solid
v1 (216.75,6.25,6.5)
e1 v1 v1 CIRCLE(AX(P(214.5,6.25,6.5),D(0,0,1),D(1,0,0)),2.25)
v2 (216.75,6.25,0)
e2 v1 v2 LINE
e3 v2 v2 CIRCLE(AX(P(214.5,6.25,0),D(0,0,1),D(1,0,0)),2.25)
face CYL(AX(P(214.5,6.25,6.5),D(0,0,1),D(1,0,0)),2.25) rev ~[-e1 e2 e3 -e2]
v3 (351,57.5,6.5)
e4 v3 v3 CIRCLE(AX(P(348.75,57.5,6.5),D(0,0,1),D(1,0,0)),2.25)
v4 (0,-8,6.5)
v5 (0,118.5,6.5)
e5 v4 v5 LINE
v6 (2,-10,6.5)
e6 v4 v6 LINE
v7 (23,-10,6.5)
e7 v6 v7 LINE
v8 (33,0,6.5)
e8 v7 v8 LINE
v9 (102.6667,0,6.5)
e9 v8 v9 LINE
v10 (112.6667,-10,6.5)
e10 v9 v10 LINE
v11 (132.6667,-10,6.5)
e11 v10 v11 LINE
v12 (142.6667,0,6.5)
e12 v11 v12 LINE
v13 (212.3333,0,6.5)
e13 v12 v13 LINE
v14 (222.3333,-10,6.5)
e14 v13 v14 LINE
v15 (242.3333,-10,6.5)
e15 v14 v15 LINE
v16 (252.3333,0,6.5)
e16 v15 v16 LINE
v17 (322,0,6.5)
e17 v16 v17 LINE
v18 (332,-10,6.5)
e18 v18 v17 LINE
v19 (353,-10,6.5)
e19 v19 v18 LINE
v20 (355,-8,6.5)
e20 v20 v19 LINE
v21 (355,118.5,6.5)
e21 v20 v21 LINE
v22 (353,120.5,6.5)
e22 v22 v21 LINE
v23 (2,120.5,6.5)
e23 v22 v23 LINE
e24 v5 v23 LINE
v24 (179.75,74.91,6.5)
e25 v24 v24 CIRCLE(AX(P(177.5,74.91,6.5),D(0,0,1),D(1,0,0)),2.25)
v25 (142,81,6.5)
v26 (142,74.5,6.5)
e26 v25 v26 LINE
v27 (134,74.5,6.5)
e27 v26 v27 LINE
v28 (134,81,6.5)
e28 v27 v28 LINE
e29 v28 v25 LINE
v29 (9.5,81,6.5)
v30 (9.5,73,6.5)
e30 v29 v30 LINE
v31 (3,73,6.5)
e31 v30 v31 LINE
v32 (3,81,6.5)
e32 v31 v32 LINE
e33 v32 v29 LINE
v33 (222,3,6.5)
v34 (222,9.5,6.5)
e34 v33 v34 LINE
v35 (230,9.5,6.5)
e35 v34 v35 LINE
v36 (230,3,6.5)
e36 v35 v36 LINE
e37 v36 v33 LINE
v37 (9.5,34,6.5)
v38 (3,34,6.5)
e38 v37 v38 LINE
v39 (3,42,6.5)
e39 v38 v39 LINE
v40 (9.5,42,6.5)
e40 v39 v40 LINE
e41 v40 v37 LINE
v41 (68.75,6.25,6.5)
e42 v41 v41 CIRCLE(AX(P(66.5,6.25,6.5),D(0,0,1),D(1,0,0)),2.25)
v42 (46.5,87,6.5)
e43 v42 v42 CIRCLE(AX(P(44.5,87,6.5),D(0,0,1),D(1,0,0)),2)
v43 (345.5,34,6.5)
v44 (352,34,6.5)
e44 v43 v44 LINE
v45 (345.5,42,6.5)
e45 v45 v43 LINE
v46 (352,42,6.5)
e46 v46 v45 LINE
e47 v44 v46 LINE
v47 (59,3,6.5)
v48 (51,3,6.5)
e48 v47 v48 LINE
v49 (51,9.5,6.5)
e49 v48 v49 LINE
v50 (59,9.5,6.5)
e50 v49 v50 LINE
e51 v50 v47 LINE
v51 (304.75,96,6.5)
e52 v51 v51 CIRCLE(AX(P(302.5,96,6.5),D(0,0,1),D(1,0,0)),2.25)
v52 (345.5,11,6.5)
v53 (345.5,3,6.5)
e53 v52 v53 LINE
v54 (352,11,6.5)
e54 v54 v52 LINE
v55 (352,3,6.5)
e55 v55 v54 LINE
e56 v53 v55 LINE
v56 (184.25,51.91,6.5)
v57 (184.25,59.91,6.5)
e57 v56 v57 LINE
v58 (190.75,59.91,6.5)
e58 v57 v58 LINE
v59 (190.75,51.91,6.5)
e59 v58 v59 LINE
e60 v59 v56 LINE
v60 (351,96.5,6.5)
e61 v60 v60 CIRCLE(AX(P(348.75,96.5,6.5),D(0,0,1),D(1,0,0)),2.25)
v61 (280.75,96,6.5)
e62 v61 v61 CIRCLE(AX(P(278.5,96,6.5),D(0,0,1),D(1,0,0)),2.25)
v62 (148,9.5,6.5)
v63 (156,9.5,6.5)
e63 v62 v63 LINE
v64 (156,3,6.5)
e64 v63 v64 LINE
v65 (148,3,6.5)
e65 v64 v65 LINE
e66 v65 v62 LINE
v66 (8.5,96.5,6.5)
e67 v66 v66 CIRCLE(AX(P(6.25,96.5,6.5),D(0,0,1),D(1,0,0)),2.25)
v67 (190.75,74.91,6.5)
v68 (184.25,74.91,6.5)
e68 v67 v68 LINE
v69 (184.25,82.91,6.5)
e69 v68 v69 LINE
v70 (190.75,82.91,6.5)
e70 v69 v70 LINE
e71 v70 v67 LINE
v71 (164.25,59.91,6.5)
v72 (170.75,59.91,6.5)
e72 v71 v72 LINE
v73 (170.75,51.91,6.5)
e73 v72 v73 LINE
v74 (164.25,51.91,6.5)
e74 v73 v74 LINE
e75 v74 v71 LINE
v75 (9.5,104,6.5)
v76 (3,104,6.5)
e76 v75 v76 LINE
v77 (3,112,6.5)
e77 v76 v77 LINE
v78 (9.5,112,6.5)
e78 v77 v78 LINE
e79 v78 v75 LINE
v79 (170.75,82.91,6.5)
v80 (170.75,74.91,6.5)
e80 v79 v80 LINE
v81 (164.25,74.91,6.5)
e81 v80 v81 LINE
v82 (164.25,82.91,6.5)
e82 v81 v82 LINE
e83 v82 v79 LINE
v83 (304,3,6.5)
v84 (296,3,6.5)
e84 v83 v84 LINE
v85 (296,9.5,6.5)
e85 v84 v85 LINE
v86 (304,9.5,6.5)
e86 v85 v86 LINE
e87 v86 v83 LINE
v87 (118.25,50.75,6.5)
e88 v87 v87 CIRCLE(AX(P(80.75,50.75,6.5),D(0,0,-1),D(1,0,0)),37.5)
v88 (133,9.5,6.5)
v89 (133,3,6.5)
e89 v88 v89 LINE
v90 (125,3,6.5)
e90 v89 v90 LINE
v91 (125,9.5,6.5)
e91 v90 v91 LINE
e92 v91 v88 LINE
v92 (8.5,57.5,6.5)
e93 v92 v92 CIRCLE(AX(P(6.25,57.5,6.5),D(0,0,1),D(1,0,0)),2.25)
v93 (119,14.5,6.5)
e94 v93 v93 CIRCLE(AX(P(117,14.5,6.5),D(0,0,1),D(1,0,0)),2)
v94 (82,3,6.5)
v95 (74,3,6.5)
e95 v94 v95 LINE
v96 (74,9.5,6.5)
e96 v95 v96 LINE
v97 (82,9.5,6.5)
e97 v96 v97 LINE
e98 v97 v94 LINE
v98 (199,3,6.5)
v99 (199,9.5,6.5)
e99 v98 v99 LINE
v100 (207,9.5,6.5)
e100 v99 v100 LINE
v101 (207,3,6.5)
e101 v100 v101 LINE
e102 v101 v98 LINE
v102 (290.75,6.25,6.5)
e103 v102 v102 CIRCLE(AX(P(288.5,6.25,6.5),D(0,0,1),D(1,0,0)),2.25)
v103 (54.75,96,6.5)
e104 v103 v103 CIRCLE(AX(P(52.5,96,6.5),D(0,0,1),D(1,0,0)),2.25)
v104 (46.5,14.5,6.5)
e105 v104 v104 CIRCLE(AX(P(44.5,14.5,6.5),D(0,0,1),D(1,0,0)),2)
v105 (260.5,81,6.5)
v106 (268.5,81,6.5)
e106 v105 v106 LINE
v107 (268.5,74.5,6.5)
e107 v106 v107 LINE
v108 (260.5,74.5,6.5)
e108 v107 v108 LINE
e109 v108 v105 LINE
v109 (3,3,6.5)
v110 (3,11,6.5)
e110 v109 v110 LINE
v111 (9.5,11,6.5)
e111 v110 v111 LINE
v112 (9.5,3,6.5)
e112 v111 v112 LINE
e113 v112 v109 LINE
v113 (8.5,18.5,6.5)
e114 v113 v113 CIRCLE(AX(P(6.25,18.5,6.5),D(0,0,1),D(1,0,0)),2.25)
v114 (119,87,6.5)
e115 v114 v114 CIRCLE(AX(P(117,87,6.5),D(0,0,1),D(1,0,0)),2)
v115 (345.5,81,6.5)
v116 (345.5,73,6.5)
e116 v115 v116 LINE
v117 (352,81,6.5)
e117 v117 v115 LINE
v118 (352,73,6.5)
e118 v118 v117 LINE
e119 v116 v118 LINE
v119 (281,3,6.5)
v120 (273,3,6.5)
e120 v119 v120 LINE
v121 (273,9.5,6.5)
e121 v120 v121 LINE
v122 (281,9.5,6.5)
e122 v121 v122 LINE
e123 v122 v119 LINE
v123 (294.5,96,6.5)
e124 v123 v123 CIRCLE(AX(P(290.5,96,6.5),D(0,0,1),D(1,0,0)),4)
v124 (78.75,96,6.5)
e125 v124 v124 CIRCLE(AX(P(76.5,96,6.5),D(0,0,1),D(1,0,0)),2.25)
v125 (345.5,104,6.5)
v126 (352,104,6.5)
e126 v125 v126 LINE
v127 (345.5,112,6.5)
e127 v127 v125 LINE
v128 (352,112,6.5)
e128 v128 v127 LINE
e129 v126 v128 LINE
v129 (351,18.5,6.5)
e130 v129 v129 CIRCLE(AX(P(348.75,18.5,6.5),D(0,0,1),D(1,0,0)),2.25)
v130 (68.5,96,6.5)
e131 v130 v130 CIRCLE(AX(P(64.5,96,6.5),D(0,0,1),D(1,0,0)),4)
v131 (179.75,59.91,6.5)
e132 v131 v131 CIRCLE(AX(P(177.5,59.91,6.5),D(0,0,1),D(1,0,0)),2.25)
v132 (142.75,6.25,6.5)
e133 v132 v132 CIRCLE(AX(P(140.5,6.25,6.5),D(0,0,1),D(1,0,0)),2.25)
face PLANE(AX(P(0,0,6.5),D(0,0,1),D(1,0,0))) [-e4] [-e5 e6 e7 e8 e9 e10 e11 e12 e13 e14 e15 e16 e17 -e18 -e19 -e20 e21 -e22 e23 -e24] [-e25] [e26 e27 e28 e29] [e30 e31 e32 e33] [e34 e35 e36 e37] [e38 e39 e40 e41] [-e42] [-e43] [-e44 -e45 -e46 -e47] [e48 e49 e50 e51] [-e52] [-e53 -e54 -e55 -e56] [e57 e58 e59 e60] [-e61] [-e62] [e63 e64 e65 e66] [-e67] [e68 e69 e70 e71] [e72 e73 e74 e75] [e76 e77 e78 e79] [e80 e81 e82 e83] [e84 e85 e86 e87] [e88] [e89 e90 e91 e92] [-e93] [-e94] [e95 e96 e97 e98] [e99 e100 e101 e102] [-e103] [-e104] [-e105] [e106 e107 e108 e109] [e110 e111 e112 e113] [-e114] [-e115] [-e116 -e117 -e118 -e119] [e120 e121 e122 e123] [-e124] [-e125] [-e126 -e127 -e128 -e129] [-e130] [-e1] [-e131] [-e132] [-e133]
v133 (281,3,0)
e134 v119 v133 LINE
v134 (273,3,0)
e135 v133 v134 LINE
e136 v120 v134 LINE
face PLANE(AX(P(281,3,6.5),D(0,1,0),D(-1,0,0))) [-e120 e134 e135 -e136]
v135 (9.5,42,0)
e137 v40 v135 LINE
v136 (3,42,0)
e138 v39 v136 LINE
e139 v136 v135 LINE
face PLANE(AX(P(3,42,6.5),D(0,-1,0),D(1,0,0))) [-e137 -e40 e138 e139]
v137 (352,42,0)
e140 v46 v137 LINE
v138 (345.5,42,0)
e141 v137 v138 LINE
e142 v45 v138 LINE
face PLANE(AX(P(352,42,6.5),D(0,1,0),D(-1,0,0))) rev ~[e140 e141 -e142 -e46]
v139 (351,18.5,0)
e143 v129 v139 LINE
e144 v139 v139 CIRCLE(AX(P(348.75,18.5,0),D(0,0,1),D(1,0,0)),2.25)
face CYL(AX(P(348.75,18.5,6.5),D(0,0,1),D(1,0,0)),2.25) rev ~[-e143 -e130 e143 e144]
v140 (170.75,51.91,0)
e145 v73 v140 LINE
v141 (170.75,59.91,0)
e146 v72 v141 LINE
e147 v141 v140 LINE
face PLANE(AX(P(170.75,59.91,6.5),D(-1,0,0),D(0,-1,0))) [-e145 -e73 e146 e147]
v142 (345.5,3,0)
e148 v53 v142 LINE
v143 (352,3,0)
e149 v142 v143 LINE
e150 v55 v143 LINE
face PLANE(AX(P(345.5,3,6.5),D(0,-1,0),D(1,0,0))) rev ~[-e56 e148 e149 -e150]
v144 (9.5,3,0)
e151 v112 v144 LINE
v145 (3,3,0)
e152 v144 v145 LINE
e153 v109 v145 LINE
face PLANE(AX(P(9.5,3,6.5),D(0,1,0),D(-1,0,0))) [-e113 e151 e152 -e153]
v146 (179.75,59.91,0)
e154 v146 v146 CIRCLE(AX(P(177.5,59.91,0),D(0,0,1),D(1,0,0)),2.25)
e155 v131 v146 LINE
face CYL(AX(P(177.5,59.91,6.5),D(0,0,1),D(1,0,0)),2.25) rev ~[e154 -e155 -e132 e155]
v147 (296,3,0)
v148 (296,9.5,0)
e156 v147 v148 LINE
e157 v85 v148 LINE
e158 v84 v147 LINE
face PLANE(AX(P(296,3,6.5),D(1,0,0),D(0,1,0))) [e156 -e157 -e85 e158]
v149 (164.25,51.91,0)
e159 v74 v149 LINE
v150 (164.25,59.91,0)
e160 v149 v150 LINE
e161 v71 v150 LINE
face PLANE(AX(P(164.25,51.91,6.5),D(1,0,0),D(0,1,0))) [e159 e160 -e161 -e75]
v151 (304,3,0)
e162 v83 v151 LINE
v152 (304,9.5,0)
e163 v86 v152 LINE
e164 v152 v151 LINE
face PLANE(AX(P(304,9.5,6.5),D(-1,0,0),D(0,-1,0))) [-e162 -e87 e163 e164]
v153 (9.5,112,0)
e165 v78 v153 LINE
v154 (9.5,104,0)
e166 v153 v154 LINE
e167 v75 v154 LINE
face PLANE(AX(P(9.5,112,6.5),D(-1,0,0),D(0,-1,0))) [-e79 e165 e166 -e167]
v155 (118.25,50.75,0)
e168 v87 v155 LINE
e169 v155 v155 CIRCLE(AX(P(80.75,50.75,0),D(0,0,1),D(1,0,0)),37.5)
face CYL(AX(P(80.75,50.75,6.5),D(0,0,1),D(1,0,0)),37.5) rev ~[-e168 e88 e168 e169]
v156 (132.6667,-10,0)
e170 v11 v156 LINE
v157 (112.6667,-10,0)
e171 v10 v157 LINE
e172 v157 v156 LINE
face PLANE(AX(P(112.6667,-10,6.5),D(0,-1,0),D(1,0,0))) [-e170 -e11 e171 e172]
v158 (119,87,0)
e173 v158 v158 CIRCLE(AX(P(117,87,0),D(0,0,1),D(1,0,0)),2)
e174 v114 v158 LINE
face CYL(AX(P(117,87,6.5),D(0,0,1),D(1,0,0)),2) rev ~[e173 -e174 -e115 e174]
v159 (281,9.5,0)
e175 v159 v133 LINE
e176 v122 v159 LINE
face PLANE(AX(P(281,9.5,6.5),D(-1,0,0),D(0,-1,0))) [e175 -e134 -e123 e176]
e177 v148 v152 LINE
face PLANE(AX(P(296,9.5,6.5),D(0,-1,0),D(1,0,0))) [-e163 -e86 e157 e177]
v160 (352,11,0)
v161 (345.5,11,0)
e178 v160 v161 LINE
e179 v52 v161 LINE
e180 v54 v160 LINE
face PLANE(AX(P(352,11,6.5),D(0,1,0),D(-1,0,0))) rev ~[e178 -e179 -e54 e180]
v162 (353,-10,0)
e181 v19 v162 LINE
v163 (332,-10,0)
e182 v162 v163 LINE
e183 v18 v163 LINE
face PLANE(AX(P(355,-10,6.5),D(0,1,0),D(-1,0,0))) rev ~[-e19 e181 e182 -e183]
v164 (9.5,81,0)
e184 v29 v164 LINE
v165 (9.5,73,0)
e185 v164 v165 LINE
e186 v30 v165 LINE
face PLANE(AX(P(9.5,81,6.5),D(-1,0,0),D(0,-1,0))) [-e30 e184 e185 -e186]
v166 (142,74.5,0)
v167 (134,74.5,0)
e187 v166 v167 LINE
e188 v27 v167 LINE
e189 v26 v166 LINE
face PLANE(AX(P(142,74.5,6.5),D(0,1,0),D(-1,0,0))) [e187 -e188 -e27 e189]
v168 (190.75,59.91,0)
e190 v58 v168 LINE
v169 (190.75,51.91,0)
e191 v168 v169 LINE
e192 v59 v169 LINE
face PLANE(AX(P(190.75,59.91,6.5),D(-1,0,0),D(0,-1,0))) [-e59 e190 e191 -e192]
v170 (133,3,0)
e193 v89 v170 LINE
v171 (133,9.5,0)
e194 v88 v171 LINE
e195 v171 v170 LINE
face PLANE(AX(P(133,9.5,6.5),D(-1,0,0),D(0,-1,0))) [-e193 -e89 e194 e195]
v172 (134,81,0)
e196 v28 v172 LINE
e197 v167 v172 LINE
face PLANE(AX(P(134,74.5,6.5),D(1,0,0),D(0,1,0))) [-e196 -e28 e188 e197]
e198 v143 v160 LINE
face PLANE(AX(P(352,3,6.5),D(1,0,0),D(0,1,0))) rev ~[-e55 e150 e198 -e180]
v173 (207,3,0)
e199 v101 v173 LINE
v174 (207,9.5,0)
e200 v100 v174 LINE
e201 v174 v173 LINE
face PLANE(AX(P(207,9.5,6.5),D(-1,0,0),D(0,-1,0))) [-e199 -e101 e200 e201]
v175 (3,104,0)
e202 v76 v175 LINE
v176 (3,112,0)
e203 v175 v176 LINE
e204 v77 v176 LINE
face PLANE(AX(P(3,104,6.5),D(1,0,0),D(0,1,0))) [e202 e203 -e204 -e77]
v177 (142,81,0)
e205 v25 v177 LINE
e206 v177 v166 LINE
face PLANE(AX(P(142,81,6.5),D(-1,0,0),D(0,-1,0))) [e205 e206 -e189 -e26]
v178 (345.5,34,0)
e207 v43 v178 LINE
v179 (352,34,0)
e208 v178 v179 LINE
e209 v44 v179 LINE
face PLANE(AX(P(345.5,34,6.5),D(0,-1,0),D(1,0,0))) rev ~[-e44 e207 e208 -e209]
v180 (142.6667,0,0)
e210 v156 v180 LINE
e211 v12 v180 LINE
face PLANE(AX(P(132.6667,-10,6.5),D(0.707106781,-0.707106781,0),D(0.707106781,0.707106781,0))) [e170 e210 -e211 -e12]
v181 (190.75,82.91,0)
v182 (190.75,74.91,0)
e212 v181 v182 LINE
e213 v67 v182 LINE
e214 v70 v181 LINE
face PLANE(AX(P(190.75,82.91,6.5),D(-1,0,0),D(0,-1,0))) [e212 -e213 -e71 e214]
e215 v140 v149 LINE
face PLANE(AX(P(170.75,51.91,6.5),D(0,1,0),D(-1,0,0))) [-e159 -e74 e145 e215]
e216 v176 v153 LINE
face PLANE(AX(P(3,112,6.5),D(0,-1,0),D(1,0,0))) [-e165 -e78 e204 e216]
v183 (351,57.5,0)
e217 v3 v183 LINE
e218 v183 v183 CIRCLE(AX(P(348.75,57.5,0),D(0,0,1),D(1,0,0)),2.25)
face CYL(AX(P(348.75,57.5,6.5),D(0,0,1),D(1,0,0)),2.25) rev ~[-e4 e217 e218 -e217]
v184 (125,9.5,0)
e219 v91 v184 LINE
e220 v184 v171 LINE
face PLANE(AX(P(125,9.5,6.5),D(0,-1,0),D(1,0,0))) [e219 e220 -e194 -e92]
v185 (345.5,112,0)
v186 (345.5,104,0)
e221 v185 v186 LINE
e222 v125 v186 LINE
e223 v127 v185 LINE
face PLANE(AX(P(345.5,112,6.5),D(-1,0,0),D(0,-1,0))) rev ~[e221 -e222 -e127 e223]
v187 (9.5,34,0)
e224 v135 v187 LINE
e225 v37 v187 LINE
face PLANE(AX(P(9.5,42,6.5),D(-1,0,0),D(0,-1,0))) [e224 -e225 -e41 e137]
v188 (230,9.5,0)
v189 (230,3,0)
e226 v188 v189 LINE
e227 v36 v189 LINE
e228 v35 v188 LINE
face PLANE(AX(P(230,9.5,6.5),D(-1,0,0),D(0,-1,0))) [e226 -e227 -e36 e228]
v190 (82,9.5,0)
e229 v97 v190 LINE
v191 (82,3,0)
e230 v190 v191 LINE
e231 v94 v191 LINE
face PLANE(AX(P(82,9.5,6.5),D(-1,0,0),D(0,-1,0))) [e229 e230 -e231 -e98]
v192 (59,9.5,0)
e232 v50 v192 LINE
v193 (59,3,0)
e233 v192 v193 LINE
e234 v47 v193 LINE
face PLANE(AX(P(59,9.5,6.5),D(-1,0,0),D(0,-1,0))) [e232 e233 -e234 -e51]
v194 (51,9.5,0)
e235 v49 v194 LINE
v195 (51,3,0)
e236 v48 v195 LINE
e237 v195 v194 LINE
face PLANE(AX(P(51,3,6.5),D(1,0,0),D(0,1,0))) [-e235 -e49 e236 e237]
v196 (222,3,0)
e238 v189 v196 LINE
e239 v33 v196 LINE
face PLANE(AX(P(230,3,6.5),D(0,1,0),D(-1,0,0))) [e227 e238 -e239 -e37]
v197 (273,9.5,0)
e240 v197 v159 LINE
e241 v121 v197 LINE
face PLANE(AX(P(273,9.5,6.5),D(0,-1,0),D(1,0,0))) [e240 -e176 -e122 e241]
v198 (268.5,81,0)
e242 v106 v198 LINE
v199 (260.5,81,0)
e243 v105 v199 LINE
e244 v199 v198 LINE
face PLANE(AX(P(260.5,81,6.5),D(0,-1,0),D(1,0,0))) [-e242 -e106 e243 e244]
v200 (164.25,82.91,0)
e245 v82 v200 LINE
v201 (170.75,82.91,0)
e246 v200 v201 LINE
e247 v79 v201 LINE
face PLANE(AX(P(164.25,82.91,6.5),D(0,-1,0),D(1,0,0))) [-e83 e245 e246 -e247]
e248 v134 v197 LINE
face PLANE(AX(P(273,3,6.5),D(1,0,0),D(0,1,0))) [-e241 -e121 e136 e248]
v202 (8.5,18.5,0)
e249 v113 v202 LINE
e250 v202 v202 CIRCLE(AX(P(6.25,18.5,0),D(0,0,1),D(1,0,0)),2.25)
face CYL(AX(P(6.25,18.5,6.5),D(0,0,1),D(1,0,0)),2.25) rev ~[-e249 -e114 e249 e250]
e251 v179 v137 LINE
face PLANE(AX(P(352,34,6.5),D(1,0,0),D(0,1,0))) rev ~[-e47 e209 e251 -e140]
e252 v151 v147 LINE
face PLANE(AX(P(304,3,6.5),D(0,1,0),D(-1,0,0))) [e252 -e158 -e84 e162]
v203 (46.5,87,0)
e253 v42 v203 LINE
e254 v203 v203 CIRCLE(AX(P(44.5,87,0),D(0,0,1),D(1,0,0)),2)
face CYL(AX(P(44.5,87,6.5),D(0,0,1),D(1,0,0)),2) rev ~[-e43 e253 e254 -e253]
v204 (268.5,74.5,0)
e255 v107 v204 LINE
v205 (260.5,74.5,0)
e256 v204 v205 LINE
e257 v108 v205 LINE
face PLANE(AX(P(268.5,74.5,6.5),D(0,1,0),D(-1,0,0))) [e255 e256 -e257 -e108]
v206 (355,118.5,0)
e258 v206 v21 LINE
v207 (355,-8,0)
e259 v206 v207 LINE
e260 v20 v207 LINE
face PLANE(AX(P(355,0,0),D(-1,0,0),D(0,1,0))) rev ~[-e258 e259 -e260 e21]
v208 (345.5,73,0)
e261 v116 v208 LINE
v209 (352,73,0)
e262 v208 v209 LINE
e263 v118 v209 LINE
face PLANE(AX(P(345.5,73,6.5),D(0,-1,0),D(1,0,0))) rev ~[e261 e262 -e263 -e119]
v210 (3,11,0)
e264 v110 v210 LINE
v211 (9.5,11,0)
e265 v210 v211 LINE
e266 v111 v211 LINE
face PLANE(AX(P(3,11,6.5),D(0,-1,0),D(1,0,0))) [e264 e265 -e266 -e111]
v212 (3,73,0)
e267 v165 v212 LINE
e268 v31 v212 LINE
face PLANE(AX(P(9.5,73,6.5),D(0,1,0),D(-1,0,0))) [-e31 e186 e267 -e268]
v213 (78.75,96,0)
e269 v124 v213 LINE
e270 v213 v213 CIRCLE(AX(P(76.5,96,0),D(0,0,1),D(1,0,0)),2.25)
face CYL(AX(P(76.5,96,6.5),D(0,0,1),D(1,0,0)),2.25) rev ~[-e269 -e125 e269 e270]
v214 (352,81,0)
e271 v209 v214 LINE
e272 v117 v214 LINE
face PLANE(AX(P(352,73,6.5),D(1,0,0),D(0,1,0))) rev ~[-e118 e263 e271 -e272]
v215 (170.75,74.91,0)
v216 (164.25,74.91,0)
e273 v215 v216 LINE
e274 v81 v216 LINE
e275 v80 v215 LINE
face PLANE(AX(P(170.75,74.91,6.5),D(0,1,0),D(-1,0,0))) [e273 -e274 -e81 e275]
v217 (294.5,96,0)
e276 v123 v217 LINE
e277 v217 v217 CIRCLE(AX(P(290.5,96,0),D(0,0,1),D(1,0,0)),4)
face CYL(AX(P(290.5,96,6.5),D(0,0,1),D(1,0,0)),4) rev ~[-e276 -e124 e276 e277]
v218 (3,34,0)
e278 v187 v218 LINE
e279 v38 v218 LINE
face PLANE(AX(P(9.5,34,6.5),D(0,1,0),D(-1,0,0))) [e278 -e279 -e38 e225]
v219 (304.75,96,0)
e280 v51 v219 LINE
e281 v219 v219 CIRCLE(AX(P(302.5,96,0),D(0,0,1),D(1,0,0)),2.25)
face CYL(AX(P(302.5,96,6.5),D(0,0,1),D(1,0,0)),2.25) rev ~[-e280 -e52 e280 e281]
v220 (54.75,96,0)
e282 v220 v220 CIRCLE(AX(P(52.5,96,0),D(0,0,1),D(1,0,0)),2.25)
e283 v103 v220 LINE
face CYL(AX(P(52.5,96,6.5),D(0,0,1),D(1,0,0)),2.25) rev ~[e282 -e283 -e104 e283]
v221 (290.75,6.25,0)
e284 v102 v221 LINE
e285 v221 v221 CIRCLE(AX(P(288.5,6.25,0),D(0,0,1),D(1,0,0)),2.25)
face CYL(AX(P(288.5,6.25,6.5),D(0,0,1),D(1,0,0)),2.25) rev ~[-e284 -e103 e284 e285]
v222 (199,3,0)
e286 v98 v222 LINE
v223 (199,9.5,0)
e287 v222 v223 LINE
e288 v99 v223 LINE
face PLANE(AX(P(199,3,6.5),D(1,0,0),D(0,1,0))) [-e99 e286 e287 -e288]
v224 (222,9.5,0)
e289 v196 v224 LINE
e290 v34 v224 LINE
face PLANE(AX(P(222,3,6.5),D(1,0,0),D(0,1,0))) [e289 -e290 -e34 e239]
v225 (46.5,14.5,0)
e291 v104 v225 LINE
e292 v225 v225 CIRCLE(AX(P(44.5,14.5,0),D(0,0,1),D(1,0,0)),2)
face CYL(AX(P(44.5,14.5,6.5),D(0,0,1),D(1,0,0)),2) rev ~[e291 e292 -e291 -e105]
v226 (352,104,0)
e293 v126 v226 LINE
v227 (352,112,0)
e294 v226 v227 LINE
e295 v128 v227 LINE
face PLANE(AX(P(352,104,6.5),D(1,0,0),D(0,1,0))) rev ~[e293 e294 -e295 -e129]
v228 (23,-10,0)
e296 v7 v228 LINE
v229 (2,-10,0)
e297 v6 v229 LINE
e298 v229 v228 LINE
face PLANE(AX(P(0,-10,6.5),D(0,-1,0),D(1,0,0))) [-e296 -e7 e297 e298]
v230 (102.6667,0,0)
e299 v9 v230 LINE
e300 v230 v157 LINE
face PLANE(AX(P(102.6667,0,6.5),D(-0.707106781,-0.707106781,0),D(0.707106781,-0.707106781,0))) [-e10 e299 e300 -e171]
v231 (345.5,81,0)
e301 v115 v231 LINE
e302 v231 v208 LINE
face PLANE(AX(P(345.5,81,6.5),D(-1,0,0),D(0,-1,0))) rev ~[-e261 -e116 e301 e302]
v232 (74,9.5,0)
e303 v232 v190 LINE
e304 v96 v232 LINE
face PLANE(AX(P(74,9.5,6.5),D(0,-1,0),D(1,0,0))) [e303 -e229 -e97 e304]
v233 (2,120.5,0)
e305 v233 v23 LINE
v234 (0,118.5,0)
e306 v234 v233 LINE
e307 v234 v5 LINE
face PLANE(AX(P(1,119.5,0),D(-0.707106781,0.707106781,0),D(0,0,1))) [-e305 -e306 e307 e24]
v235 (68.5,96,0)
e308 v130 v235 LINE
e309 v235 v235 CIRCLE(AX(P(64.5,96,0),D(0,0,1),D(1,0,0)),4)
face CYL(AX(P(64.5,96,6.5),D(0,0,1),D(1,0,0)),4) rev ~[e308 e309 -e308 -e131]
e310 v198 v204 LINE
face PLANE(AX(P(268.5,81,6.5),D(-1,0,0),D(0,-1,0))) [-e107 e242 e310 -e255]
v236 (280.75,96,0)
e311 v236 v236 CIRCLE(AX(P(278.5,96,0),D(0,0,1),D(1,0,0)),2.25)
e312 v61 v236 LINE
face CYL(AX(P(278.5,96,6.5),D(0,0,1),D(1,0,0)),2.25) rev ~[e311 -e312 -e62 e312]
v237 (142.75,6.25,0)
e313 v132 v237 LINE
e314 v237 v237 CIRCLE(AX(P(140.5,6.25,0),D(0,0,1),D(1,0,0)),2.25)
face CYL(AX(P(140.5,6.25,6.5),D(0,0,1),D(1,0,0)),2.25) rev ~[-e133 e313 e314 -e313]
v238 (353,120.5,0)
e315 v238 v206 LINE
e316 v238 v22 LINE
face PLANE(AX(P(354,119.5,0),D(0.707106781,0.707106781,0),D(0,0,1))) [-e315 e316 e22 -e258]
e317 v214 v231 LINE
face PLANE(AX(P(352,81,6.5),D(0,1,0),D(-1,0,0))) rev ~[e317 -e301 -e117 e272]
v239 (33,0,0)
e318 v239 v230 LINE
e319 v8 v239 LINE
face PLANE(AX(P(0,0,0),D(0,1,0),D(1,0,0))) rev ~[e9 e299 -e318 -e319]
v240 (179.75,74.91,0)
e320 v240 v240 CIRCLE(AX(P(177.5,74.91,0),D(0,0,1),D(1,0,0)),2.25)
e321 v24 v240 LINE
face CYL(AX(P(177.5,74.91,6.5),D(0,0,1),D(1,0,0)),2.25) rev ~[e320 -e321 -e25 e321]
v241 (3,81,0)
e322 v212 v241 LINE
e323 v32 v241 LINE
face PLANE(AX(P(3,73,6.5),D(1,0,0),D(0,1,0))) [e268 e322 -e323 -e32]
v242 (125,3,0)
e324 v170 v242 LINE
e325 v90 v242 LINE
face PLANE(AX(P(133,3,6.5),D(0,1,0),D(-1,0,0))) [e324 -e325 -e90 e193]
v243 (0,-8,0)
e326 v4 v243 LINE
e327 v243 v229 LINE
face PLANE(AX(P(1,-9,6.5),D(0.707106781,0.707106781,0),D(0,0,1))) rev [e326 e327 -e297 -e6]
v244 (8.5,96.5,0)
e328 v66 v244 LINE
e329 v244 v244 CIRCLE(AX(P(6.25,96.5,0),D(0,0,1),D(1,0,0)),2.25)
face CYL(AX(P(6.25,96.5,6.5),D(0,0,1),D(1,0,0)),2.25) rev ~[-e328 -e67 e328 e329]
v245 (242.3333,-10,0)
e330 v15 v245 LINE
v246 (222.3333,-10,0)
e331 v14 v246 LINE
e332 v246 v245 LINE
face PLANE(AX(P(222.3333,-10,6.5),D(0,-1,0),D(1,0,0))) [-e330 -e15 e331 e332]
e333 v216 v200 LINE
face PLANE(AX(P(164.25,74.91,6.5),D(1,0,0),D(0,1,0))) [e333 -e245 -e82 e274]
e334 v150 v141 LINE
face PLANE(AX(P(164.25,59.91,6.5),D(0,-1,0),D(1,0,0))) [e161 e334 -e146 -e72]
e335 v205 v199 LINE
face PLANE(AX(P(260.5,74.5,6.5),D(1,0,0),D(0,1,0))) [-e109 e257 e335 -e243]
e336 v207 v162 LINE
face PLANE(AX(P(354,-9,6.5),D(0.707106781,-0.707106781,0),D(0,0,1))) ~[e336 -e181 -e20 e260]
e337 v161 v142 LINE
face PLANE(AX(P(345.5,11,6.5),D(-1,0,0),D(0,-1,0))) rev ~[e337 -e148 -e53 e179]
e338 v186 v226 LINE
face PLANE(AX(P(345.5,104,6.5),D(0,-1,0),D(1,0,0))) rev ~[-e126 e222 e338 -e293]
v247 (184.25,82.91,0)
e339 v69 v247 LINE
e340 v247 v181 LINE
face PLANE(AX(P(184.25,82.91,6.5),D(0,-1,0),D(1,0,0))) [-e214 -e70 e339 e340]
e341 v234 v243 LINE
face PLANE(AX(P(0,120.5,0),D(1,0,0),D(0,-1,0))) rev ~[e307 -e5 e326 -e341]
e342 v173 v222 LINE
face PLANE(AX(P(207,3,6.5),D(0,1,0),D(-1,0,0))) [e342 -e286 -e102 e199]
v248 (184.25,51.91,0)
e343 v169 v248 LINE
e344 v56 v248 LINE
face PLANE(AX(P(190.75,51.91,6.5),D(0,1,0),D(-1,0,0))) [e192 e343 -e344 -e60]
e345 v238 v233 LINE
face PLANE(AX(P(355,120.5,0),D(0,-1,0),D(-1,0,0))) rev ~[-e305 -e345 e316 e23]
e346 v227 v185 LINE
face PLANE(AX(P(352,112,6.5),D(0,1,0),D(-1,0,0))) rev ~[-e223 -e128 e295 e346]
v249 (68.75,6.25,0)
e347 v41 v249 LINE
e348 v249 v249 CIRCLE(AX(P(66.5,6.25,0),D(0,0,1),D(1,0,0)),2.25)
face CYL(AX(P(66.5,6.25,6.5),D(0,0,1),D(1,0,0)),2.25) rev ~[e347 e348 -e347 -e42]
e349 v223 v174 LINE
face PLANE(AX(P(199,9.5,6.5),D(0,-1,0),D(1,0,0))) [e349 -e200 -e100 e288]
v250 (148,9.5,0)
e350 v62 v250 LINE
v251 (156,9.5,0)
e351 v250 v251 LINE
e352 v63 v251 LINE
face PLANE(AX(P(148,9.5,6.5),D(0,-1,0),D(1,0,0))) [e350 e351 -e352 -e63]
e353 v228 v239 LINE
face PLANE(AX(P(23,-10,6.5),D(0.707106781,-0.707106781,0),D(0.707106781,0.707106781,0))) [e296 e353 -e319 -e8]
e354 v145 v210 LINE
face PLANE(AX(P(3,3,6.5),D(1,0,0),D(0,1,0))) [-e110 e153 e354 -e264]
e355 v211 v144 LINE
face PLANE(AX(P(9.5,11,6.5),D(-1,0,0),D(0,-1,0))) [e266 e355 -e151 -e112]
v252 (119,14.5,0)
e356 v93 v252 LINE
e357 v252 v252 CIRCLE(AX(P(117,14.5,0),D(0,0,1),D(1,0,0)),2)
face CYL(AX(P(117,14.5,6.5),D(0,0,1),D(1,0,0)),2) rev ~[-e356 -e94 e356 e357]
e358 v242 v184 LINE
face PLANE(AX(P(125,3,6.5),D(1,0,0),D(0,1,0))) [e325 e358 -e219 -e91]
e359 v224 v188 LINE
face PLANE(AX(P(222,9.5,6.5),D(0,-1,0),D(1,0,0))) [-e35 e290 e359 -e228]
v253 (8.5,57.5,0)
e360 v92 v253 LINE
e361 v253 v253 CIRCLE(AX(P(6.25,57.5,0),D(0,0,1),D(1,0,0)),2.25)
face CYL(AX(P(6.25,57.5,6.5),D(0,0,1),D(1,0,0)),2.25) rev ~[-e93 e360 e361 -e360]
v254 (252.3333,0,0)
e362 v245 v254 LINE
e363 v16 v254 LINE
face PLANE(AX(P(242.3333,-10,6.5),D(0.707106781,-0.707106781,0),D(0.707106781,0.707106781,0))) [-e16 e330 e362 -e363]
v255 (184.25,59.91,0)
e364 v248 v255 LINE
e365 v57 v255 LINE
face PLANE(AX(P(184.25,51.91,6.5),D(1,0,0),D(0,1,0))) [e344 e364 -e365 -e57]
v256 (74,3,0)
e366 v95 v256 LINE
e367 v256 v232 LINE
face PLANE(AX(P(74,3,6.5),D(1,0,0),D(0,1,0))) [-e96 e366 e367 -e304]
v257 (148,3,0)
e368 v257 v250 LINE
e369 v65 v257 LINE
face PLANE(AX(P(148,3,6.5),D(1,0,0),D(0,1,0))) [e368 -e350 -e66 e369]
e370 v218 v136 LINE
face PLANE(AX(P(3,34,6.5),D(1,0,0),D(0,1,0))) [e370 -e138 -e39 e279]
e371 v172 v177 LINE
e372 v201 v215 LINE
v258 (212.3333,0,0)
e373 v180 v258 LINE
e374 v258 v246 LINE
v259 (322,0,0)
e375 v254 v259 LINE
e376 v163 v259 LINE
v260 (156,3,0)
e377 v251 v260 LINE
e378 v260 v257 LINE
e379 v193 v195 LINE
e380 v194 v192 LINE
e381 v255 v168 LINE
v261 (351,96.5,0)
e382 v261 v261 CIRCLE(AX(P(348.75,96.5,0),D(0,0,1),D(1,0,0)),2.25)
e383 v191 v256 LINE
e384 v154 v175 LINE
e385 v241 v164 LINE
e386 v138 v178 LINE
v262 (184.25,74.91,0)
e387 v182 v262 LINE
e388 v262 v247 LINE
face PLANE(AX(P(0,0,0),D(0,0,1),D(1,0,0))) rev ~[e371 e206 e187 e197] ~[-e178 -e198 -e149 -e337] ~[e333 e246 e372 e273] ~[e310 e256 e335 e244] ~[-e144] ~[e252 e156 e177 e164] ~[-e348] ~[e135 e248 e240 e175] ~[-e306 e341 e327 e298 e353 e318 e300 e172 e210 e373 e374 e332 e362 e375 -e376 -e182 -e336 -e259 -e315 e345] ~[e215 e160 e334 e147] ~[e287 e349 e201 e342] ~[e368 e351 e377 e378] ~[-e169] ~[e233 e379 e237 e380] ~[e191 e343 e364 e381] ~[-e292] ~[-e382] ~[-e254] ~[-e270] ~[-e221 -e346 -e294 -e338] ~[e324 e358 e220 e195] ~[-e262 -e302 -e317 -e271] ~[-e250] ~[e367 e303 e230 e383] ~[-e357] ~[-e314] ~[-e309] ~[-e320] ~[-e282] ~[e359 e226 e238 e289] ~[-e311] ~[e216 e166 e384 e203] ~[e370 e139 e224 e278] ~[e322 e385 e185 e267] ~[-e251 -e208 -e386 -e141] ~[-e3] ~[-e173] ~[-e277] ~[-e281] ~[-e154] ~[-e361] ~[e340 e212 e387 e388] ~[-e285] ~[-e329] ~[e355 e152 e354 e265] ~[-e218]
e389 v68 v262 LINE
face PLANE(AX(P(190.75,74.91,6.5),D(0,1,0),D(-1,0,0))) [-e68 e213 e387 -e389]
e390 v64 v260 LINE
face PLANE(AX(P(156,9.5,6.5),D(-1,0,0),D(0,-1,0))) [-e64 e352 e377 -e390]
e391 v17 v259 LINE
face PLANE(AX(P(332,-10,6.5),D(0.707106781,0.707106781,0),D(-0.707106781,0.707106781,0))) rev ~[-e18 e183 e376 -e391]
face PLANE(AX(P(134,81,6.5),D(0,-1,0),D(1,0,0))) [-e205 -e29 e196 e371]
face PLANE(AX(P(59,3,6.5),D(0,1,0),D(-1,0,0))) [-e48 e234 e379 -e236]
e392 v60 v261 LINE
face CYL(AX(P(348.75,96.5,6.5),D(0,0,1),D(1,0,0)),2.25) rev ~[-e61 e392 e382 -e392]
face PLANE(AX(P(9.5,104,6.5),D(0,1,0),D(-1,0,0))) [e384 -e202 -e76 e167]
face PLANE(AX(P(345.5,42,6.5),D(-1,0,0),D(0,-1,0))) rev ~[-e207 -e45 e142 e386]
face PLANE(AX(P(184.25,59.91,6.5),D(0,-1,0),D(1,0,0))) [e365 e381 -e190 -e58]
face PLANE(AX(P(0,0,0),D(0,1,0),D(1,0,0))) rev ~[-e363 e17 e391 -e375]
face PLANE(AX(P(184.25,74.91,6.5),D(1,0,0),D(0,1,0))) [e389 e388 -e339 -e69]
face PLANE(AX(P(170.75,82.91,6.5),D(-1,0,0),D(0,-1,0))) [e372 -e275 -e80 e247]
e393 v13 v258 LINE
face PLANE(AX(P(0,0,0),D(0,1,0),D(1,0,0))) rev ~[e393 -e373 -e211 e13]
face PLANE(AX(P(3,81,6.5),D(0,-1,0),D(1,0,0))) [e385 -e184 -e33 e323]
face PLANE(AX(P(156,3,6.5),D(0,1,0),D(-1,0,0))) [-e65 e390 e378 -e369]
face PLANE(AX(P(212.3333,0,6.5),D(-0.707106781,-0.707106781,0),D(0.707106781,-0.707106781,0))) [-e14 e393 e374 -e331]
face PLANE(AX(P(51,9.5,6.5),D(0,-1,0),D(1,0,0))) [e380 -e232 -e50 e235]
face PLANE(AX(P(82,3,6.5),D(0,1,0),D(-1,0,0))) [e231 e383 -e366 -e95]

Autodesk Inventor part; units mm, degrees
ref_plane "YZ Plane" through (0, 0, 0) normal (1, 0, 0) x (0, 1, 0)
ref_plane "XZ Plane" through (0, 0, 0) normal (0, 1, 0) x (-1, 0, 0)
ref_plane "XY Plane" through (0, 0, 0) normal (0, 0, 1) x (1, 0, 0)
sketch "Sketch1" plane through (0, 0, 0) normal (0, 0, 1) x (1, 0, 0)
  line L0 (0, 0) -> (355, 0)
  line L1 (355, 0) -> (355, 120.5)
  line L2 (355, 120.5) -> (0, 120.5)
  line L3 (0, 120.5) -> (0, 0)
  dimension "d0" = 120.5
  dimension "d1" = 355
extrude "Extrusion1" add sketch "Sketch1" along normal blind 6.5
sketch "Sketch3" plane through (0, 0, 6.5) normal (0, 0, 1) x (1, 0, 0)
  line L0 (0, 0) -> (355, 0) projected
  line L1 (355, 120.5) -> (0, 120.5) projected
  line L2 (0, 120.5) -> (0, 0) projected
  circle A0 centre (64.5, 96) radius 4
  circle A1 centre (290.5, 96) radius 4
  line L3 (64.5, 96) -> (290.5, 96) construction
  point P0 (177.5, 96)
  point P1 (177.5, 120.5)
  dimension "d9" = 8
  dimension "d10" = 96
  dimension "d11" = 226
extrude "Extrusion3" cut sketch "Sketch3" against normal through all
sketch "Sketch4" plane through (0, 0, 6.5) normal (0, 0, 1) x (1, 0, 0)
  line L0 (0, 0) -> (355, 0) projected
  line L1 (355, 120.5) -> (0, 120.5) projected
  line L2 (0, 120.5) -> (0, 0) projected
  circle A0 centre (6.25, 18.5) radius 2.25
  circle A1 centre (6.25, 57.5) radius 2.25
  circle A2 centre (6.25, 96.5) radius 2.25
  line L3 (177.5, 120.5) -> (177.5, 0) construction
  line L4 (3, 112) -> (9.5, 112)
  line L5 (9.5, 112) -> (9.5, 104)
  line L6 (9.5, 104) -> (3, 104)
  line L7 (3, 104) -> (3, 112)
  line L8 (3, 81) -> (9.5, 81)
  line L9 (9.5, 81) -> (9.5, 73)
  line L10 (9.5, 73) -> (3, 73)
  line L11 (3, 73) -> (3, 81)
  line L12 (3, 42) -> (9.5, 42)
  line L13 (9.5, 42) -> (9.5, 34)
  line L14 (9.5, 34) -> (3, 34)
  line L15 (3, 34) -> (3, 42)
  line L16 (3, 11) -> (9.5, 11)
  line L17 (9.5, 11) -> (9.5, 3)
  line L18 (9.5, 3) -> (3, 3)
  line L19 (3, 3) -> (3, 11)
  line L20 (6.25, 18.5) -> (6.25, 57.5) construction
  line L21 (6.25, 57.5) -> (6.25, 96.5) construction
  circle A3 centre (348.75, 18.5) radius 2.25
  circle A4 centre (348.75, 57.5) radius 2.25
  circle A5 centre (348.75, 96.5) radius 2.25
  line L22 (352, 112) -> (345.5, 112)
  line L23 (345.5, 112) -> (345.5, 104)
  line L24 (345.5, 104) -> (352, 104)
  line L25 (352, 104) -> (352, 112)
  line L26 (352, 81) -> (345.5, 81)
  line L27 (345.5, 81) -> (345.5, 73)
  line L28 (345.5, 73) -> (352, 73)
  line L29 (352, 73) -> (352, 81)
  line L30 (352, 42) -> (345.5, 42)
  line L31 (345.5, 42) -> (345.5, 34)
  line L32 (345.5, 34) -> (352, 34)
  line L33 (352, 34) -> (352, 42)
  line L34 (352, 11) -> (345.5, 11)
  line L35 (345.5, 11) -> (345.5, 3)
  line L36 (345.5, 3) -> (352, 3)
  line L37 (352, 3) -> (352, 11)
  line L38 (348.75, 18.5) -> (348.75, 57.5) construction
  line L39 (348.75, 57.5) -> (348.75, 96.5) construction
  point P0 (6.25, 104)
  point P1 (3, 38)
  point P2 (6.25, 38)
  point P3 (3, 77)
  point P4 (6.25, 77)
  point P5 (348.75, 104)
  point P6 (352, 38)
  point P7 (348.75, 38)
  point P8 (352, 77)
  point P9 (348.75, 77)
  dimension "d14" = 18.5
  dimension "d15" = 39
  dimension "d16" = 39
  dimension "d17" = 4.5
  dimension "d18" = 6.5
  dimension "d19" = 8
  dimension "d20" = 8
  dimension "d21" = 8
  dimension "d22" = 8
  dimension "d23" = 3
  dimension "d27" = 23
  dimension "d28" = 3
extrude "Extrusion4" cut sketch "Sketch4" against normal through all
sketch "Sketch5" plane through (0, 0, 6.5) normal (0, 0, 1) x (1, 0, 0)
  line L0 (0, 0) -> (355, 0) projected
  line L1 (51, 9.5) -> (59, 9.5)
  line L2 (59, 9.5) -> (59, 3)
  line L3 (59, 3) -> (51, 3)
  line L4 (51, 3) -> (51, 9.5)
  line L5 (74, 9.5) -> (82, 9.5)
  line L6 (82, 9.5) -> (82, 3)
  line L7 (82, 3) -> (74, 3)
  line L8 (74, 3) -> (74, 9.5)
  line L9 (59, 9.5) -> (74, 3) construction
  line L10 (74, 9.5) -> (59, 3) construction
  circle A0 centre (66.5, 6.25) radius 2.25
  line L11 (125, 9.5) -> (133, 9.5)
  line L12 (133, 9.5) -> (133, 3)
  line L13 (133, 3) -> (125, 3)
  line L14 (125, 3) -> (125, 9.5)
  line L15 (148, 9.5) -> (156, 9.5)
  line L16 (156, 9.5) -> (156, 3)
  line L17 (156, 3) -> (148, 3)
  line L18 (148, 3) -> (148, 9.5)
  line L19 (133, 9.5) -> (148, 3) construction
  line L20 (148, 9.5) -> (133, 3) construction
  circle A1 centre (140.5, 6.25) radius 2.25
  line L21 (199, 9.5) -> (207, 9.5)
  line L22 (207, 9.5) -> (207, 3)
  line L23 (207, 3) -> (199, 3)
  line L24 (199, 3) -> (199, 9.5)
  line L25 (222, 9.5) -> (230, 9.5)
  line L26 (230, 9.5) -> (230, 3)
  line L27 (230, 3) -> (222, 3)
  line L28 (222, 3) -> (222, 9.5)
  line L29 (207, 9.5) -> (222, 3) construction
  line L30 (222, 9.5) -> (207, 3) construction
  circle A2 centre (214.5, 6.25) radius 2.25
  line L31 (273, 9.5) -> (281, 9.5)
  line L32 (281, 9.5) -> (281, 3)
  line L33 (281, 3) -> (273, 3)
  line L34 (273, 3) -> (273, 9.5)
  line L35 (296, 9.5) -> (304, 9.5)
  line L36 (304, 9.5) -> (304, 3)
  line L37 (304, 3) -> (296, 3)
  line L38 (296, 3) -> (296, 9.5)
  line L39 (281, 9.5) -> (296, 3) construction
  line L40 (296, 9.5) -> (281, 3) construction
  circle A3 centre (288.5, 6.25) radius 2.25
  line L41 (82, 6.25) -> (125, 6.25) construction
  line L42 (156, 6.25) -> (199, 6.25) construction
  line L43 (230, 6.25) -> (273, 6.25) construction
  line L44 (9.5, 11) -> (9.5, 3) projected
  line L45 (345.5, 3) -> (345.5, 11) projected
  point P0 (288.5, 6.25)
  dimension "d31" = 8
  dimension "d32" = 6.5
  dimension "d33" = 8
  dimension "d34" = 15
  dimension "d35" = 4.5
  dimension "d36" = 8
  dimension "d37" = 6.5
  dimension "d38" = 8
  dimension "d39" = 15
  dimension "d40" = 4.5
  dimension "d41" = 8
  dimension "d42" = 6.5
  dimension "d43" = 8
  dimension "d44" = 15
  dimension "d45" = 4.5
  dimension "d46" = 8
  dimension "d47" = 6.5
  dimension "d48" = 8
  dimension "d49" = 15
  dimension "d50" = 4.5
  dimension "d51" = 3
  dimension "d88" = 57
  dimension "d89" = 57
extrude "Extrusion5" cut sketch "Sketch5" against normal through all
sketch "Sketch6" plane through (0, 0, 6.5) normal (0, 0, 1) x (1, 0, 0)
  line L0 (0, 0) -> (355, 0) projected
  line L1 (0, 120.5) -> (0, 0) projected
  line L2 (0, 0) -> (0, -10)
  line L3 (0, -10) -> (23, -10)
  line L4 (23, -10) -> (33, 0)
  line L5 (102.6667, 0) -> (112.6667, -10)
  line L6 (112.6667, -10) -> (132.6667, -10)
  line L7 (132.6667, -10) -> (142.6667, 0)
  line L8 (212.3333, 0) -> (222.3333, -10)
  line L9 (222.3333, -10) -> (242.3333, -10)
  line L10 (242.3333, -10) -> (252.3333, 0)
  line L11 (355, 0) -> (355, -10)
  line L12 (355, -10) -> (332, -10)
  line L13 (332, -10) -> (322, 0)
  line L14 (23, -10) -> (112.6667, -10) construction
  line L15 (132.6667, -10) -> (222.3333, -10) construction
  line L16 (242.3333, -10) -> (332, -10) construction
  dimension "d54" = 20
  dimension "d55" = 23
  dimension "d56" = 45
  dimension "d57" = 10
extrude "Extrusion6" add sketch "Sketch6" against normal blind 6.5
sketch "Sketch7" plane through (0, 0, 6.5) normal (0, 0, 1) x (1, 0, 0)
  line L0 (355, 120.5) -> (0, 120.5) projected
  line L1 (174, 80.41) -> (181, 80.41) construction
  line L2 (181, 80.41) -> (181, 54.41) construction
  line L3 (181, 54.41) -> (174, 54.41) construction
  line L4 (174, 54.41) -> (174, 80.41) construction
  line L5 (184.25, 82.91) -> (190.75, 82.91)
  line L6 (190.75, 82.91) -> (190.75, 74.91)
  line L7 (190.75, 74.91) -> (184.25, 74.91)
  line L8 (184.25, 74.91) -> (184.25, 82.91)
  line L9 (184.25, 59.91) -> (190.75, 59.91)
  line L10 (190.75, 59.91) -> (190.75, 51.91)
  line L11 (190.75, 51.91) -> (184.25, 51.91)
  line L12 (184.25, 51.91) -> (184.25, 59.91)
  line L13 (164.25, 82.91) -> (170.75, 82.91)
  line L14 (170.75, 82.91) -> (170.75, 74.91)
  line L15 (170.75, 74.91) -> (164.25, 74.91)
  line L16 (164.25, 74.91) -> (164.25, 82.91)
  line L17 (164.25, 59.91) -> (170.75, 59.91)
  line L18 (170.75, 59.91) -> (170.75, 51.91)
  line L19 (170.75, 51.91) -> (164.25, 51.91)
  line L20 (164.25, 51.91) -> (164.25, 59.91)
  line L21 (170.75, 74.91) -> (184.25, 59.91) construction
  line L22 (184.25, 74.91) -> (170.75, 59.91) construction
  circle A0 centre (177.5, 74.91) radius 2.25
  circle A1 centre (177.5, 59.91) radius 2.25
  line L23 (177.5, 74.91) -> (177.5, 59.91) construction
  line L24 (125, 9.5) -> (133, 9.5) projected
  line L25 (174.5, 81.79) -> (180.5, 81.79) construction
  line L26 (180.5, 81.79) -> (180.5, 80.41) construction
  line L27 (180.5, 80.41) -> (174.5, 80.41) construction
  line L28 (174.5, 80.41) -> (174.5, 81.79) construction
  point P0 (0, 0)
  point P1 (177.5, 80.41)
  point P2 (177.5, 120.5)
  point P3 (177.5, 67.41)
  point P4 (174, 67.41)
  point P5 (177.5, 67.41)
  point P6 (177.5, 81.79)
  point P7 (174.5, 81.1)
  dimension "d60" = 7
  dimension "d61" = 26
  dimension "d63" = 8
  dimension "d64" = 6.5
  dimension "d65" = 6.5
  dimension "d66" = 8
  dimension "d67" = 13.5
  dimension "d68" = 15
  dimension "d69" = 4.5
  dimension "d70" = 15
  dimension "d100" = 6
  dimension "d101" = 1.38
  dimension "d102" = 71.6
extrude "Extrusion7" cut sketch "Sketch7" against normal through all
sketch "Sketch8" plane through (0, 0, 6.5) normal (0, 0, 1) x (1, 0, 0)
  line L0 (164.25, 82.91) -> (170.75, 82.91) projected
  circle A0 centre (64.5, 96) radius 4 projected
  circle A1 centre (290.5, 96) radius 4 projected
  line L1 (355, 120.5) -> (0, 120.5) projected
  circle A2 centre (52.5, 96) radius 2.25
  circle A3 centre (76.5, 96) radius 2.25
  circle A4 centre (278.5, 96) radius 2.25
  circle A5 centre (302.5, 96) radius 2.25
  line L2 (52.5, 96) -> (76.5, 96) construction
  line L3 (278.5, 96) -> (302.5, 96) construction
  point P0 (0, 0)
  dimension "d73" = 24
  dimension "d74" = 4.5
extrude "Extrusion8" cut sketch "Sketch8" against normal through all contours A2 | A3 | A4 | A5
sketch "Sketch9" plane through (0, 0, 6.5) normal (0, 0, 1) x (1, 0, 0)
  line L0 (74, 9.5) -> (82, 9.5) projected
  line L1 (9.5, 42) -> (9.5, 34) projected
  line L2 (44.5, 87) -> (117, 87) construction
  line L3 (117, 87) -> (117, 14.5) construction
  line L4 (117, 14.5) -> (44.5, 14.5) construction
  line L5 (44.5, 14.5) -> (44.5, 87) construction
  circle A0 centre (44.5, 87) radius 2
  circle A1 centre (117, 87) radius 2
  circle A2 centre (117, 14.5) radius 2
  circle A3 centre (44.5, 14.5) radius 2
  line L6 (40.75, 90.75) -> (120.75, 90.75) construction
  line L7 (120.75, 90.75) -> (120.75, 10.75) construction
  line L8 (120.75, 10.75) -> (40.75, 10.75) construction
  line L9 (40.75, 10.75) -> (40.75, 90.75) construction
  point P0 (0, 0)
  point P1 (80.75, 10.75)
  point P2 (80.75, 14.5)
  point P3 (40.75, 50.75)
  point P4 (44.5, 50.75)
  dimension "d77" = 4
  dimension "d78" = 72.5
  dimension "d79" = 5
  dimension "d80" = 80
  dimension "d81" = 35
extrude "Extrusion9" cut sketch "Sketch9" against normal through all
sketch "Sketch10" plane through (0, 0, 6.5) normal (0, 0, 1) x (1, 0, 0)
  circle A0 centre (117, 14.5) radius 2 projected
  circle A1 centre (44.5, 87) radius 2 projected
  line L0 (44.5, 87) -> (117, 87) construction
  line L1 (117, 87) -> (117, 14.5) construction
  line L2 (117, 14.5) -> (44.5, 14.5) construction
  line L3 (44.5, 14.5) -> (44.5, 87) construction
  circle A2 centre (80.75, 50.75) radius 37.5
  line L4 (40.75, 98.6417) -> (120.75, 98.6417)
  line L5 (120.75, 98.6417) -> (120.75, 18.6417)
  line L6 (120.75, 18.6417) -> (40.75, 18.6417)
  line L7 (40.75, 18.6417) -> (40.75, 98.6417)
  point P0 (0, 0)
  point P1 (80.75, 87)
  point P2 (44.5, 50.75)
  point P3 (80.75, 98.6417)
  dimension "d84" = 75
  dimension "d87" = 80
extrude "Extrusion10" cut sketch "Sketch10" against normal through all contours A2 L6 | L6 A2
chamfer "Chamfer1" distance 2 angle 45 4 edges at (355, -10, 3.25) (355, 120.5, 3.25) (0, -10, 3.25) (0, 120.5, 3.25)
sketch "Sketch11" plane through (0, 0, 6.5) normal (0, 0, 1) x (1, 0, 0)
  line L0 (51, 9.5) -> (59, 9.5) projected
  line L1 (345.5, 73) -> (345.5, 81) projected
  line L2 (9.5, 81) -> (9.5, 73) projected
  line L3 (134, 81) -> (142, 81)
  line L4 (142, 81) -> (142, 74.5)
  line L5 (142, 74.5) -> (134, 74.5)
  line L6 (134, 74.5) -> (134, 81)
  line L7 (260.5, 81) -> (268.5, 81)
  line L8 (268.5, 81) -> (268.5, 74.5)
  line L9 (268.5, 74.5) -> (260.5, 74.5)
  line L10 (260.5, 74.5) -> (260.5, 81)
  point P0 (0, 0)
  dimension "d93" = 6.5
  dimension "d94" = 8
  dimension "d95" = 65
  dimension "d96" = 124.5
  dimension "d97" = 77
extrude "Extrusion11" cut sketch "Sketch11" against normal through all
equation "\"d89\" = d88"
properties part number "back" material "Plywood, Finish"
